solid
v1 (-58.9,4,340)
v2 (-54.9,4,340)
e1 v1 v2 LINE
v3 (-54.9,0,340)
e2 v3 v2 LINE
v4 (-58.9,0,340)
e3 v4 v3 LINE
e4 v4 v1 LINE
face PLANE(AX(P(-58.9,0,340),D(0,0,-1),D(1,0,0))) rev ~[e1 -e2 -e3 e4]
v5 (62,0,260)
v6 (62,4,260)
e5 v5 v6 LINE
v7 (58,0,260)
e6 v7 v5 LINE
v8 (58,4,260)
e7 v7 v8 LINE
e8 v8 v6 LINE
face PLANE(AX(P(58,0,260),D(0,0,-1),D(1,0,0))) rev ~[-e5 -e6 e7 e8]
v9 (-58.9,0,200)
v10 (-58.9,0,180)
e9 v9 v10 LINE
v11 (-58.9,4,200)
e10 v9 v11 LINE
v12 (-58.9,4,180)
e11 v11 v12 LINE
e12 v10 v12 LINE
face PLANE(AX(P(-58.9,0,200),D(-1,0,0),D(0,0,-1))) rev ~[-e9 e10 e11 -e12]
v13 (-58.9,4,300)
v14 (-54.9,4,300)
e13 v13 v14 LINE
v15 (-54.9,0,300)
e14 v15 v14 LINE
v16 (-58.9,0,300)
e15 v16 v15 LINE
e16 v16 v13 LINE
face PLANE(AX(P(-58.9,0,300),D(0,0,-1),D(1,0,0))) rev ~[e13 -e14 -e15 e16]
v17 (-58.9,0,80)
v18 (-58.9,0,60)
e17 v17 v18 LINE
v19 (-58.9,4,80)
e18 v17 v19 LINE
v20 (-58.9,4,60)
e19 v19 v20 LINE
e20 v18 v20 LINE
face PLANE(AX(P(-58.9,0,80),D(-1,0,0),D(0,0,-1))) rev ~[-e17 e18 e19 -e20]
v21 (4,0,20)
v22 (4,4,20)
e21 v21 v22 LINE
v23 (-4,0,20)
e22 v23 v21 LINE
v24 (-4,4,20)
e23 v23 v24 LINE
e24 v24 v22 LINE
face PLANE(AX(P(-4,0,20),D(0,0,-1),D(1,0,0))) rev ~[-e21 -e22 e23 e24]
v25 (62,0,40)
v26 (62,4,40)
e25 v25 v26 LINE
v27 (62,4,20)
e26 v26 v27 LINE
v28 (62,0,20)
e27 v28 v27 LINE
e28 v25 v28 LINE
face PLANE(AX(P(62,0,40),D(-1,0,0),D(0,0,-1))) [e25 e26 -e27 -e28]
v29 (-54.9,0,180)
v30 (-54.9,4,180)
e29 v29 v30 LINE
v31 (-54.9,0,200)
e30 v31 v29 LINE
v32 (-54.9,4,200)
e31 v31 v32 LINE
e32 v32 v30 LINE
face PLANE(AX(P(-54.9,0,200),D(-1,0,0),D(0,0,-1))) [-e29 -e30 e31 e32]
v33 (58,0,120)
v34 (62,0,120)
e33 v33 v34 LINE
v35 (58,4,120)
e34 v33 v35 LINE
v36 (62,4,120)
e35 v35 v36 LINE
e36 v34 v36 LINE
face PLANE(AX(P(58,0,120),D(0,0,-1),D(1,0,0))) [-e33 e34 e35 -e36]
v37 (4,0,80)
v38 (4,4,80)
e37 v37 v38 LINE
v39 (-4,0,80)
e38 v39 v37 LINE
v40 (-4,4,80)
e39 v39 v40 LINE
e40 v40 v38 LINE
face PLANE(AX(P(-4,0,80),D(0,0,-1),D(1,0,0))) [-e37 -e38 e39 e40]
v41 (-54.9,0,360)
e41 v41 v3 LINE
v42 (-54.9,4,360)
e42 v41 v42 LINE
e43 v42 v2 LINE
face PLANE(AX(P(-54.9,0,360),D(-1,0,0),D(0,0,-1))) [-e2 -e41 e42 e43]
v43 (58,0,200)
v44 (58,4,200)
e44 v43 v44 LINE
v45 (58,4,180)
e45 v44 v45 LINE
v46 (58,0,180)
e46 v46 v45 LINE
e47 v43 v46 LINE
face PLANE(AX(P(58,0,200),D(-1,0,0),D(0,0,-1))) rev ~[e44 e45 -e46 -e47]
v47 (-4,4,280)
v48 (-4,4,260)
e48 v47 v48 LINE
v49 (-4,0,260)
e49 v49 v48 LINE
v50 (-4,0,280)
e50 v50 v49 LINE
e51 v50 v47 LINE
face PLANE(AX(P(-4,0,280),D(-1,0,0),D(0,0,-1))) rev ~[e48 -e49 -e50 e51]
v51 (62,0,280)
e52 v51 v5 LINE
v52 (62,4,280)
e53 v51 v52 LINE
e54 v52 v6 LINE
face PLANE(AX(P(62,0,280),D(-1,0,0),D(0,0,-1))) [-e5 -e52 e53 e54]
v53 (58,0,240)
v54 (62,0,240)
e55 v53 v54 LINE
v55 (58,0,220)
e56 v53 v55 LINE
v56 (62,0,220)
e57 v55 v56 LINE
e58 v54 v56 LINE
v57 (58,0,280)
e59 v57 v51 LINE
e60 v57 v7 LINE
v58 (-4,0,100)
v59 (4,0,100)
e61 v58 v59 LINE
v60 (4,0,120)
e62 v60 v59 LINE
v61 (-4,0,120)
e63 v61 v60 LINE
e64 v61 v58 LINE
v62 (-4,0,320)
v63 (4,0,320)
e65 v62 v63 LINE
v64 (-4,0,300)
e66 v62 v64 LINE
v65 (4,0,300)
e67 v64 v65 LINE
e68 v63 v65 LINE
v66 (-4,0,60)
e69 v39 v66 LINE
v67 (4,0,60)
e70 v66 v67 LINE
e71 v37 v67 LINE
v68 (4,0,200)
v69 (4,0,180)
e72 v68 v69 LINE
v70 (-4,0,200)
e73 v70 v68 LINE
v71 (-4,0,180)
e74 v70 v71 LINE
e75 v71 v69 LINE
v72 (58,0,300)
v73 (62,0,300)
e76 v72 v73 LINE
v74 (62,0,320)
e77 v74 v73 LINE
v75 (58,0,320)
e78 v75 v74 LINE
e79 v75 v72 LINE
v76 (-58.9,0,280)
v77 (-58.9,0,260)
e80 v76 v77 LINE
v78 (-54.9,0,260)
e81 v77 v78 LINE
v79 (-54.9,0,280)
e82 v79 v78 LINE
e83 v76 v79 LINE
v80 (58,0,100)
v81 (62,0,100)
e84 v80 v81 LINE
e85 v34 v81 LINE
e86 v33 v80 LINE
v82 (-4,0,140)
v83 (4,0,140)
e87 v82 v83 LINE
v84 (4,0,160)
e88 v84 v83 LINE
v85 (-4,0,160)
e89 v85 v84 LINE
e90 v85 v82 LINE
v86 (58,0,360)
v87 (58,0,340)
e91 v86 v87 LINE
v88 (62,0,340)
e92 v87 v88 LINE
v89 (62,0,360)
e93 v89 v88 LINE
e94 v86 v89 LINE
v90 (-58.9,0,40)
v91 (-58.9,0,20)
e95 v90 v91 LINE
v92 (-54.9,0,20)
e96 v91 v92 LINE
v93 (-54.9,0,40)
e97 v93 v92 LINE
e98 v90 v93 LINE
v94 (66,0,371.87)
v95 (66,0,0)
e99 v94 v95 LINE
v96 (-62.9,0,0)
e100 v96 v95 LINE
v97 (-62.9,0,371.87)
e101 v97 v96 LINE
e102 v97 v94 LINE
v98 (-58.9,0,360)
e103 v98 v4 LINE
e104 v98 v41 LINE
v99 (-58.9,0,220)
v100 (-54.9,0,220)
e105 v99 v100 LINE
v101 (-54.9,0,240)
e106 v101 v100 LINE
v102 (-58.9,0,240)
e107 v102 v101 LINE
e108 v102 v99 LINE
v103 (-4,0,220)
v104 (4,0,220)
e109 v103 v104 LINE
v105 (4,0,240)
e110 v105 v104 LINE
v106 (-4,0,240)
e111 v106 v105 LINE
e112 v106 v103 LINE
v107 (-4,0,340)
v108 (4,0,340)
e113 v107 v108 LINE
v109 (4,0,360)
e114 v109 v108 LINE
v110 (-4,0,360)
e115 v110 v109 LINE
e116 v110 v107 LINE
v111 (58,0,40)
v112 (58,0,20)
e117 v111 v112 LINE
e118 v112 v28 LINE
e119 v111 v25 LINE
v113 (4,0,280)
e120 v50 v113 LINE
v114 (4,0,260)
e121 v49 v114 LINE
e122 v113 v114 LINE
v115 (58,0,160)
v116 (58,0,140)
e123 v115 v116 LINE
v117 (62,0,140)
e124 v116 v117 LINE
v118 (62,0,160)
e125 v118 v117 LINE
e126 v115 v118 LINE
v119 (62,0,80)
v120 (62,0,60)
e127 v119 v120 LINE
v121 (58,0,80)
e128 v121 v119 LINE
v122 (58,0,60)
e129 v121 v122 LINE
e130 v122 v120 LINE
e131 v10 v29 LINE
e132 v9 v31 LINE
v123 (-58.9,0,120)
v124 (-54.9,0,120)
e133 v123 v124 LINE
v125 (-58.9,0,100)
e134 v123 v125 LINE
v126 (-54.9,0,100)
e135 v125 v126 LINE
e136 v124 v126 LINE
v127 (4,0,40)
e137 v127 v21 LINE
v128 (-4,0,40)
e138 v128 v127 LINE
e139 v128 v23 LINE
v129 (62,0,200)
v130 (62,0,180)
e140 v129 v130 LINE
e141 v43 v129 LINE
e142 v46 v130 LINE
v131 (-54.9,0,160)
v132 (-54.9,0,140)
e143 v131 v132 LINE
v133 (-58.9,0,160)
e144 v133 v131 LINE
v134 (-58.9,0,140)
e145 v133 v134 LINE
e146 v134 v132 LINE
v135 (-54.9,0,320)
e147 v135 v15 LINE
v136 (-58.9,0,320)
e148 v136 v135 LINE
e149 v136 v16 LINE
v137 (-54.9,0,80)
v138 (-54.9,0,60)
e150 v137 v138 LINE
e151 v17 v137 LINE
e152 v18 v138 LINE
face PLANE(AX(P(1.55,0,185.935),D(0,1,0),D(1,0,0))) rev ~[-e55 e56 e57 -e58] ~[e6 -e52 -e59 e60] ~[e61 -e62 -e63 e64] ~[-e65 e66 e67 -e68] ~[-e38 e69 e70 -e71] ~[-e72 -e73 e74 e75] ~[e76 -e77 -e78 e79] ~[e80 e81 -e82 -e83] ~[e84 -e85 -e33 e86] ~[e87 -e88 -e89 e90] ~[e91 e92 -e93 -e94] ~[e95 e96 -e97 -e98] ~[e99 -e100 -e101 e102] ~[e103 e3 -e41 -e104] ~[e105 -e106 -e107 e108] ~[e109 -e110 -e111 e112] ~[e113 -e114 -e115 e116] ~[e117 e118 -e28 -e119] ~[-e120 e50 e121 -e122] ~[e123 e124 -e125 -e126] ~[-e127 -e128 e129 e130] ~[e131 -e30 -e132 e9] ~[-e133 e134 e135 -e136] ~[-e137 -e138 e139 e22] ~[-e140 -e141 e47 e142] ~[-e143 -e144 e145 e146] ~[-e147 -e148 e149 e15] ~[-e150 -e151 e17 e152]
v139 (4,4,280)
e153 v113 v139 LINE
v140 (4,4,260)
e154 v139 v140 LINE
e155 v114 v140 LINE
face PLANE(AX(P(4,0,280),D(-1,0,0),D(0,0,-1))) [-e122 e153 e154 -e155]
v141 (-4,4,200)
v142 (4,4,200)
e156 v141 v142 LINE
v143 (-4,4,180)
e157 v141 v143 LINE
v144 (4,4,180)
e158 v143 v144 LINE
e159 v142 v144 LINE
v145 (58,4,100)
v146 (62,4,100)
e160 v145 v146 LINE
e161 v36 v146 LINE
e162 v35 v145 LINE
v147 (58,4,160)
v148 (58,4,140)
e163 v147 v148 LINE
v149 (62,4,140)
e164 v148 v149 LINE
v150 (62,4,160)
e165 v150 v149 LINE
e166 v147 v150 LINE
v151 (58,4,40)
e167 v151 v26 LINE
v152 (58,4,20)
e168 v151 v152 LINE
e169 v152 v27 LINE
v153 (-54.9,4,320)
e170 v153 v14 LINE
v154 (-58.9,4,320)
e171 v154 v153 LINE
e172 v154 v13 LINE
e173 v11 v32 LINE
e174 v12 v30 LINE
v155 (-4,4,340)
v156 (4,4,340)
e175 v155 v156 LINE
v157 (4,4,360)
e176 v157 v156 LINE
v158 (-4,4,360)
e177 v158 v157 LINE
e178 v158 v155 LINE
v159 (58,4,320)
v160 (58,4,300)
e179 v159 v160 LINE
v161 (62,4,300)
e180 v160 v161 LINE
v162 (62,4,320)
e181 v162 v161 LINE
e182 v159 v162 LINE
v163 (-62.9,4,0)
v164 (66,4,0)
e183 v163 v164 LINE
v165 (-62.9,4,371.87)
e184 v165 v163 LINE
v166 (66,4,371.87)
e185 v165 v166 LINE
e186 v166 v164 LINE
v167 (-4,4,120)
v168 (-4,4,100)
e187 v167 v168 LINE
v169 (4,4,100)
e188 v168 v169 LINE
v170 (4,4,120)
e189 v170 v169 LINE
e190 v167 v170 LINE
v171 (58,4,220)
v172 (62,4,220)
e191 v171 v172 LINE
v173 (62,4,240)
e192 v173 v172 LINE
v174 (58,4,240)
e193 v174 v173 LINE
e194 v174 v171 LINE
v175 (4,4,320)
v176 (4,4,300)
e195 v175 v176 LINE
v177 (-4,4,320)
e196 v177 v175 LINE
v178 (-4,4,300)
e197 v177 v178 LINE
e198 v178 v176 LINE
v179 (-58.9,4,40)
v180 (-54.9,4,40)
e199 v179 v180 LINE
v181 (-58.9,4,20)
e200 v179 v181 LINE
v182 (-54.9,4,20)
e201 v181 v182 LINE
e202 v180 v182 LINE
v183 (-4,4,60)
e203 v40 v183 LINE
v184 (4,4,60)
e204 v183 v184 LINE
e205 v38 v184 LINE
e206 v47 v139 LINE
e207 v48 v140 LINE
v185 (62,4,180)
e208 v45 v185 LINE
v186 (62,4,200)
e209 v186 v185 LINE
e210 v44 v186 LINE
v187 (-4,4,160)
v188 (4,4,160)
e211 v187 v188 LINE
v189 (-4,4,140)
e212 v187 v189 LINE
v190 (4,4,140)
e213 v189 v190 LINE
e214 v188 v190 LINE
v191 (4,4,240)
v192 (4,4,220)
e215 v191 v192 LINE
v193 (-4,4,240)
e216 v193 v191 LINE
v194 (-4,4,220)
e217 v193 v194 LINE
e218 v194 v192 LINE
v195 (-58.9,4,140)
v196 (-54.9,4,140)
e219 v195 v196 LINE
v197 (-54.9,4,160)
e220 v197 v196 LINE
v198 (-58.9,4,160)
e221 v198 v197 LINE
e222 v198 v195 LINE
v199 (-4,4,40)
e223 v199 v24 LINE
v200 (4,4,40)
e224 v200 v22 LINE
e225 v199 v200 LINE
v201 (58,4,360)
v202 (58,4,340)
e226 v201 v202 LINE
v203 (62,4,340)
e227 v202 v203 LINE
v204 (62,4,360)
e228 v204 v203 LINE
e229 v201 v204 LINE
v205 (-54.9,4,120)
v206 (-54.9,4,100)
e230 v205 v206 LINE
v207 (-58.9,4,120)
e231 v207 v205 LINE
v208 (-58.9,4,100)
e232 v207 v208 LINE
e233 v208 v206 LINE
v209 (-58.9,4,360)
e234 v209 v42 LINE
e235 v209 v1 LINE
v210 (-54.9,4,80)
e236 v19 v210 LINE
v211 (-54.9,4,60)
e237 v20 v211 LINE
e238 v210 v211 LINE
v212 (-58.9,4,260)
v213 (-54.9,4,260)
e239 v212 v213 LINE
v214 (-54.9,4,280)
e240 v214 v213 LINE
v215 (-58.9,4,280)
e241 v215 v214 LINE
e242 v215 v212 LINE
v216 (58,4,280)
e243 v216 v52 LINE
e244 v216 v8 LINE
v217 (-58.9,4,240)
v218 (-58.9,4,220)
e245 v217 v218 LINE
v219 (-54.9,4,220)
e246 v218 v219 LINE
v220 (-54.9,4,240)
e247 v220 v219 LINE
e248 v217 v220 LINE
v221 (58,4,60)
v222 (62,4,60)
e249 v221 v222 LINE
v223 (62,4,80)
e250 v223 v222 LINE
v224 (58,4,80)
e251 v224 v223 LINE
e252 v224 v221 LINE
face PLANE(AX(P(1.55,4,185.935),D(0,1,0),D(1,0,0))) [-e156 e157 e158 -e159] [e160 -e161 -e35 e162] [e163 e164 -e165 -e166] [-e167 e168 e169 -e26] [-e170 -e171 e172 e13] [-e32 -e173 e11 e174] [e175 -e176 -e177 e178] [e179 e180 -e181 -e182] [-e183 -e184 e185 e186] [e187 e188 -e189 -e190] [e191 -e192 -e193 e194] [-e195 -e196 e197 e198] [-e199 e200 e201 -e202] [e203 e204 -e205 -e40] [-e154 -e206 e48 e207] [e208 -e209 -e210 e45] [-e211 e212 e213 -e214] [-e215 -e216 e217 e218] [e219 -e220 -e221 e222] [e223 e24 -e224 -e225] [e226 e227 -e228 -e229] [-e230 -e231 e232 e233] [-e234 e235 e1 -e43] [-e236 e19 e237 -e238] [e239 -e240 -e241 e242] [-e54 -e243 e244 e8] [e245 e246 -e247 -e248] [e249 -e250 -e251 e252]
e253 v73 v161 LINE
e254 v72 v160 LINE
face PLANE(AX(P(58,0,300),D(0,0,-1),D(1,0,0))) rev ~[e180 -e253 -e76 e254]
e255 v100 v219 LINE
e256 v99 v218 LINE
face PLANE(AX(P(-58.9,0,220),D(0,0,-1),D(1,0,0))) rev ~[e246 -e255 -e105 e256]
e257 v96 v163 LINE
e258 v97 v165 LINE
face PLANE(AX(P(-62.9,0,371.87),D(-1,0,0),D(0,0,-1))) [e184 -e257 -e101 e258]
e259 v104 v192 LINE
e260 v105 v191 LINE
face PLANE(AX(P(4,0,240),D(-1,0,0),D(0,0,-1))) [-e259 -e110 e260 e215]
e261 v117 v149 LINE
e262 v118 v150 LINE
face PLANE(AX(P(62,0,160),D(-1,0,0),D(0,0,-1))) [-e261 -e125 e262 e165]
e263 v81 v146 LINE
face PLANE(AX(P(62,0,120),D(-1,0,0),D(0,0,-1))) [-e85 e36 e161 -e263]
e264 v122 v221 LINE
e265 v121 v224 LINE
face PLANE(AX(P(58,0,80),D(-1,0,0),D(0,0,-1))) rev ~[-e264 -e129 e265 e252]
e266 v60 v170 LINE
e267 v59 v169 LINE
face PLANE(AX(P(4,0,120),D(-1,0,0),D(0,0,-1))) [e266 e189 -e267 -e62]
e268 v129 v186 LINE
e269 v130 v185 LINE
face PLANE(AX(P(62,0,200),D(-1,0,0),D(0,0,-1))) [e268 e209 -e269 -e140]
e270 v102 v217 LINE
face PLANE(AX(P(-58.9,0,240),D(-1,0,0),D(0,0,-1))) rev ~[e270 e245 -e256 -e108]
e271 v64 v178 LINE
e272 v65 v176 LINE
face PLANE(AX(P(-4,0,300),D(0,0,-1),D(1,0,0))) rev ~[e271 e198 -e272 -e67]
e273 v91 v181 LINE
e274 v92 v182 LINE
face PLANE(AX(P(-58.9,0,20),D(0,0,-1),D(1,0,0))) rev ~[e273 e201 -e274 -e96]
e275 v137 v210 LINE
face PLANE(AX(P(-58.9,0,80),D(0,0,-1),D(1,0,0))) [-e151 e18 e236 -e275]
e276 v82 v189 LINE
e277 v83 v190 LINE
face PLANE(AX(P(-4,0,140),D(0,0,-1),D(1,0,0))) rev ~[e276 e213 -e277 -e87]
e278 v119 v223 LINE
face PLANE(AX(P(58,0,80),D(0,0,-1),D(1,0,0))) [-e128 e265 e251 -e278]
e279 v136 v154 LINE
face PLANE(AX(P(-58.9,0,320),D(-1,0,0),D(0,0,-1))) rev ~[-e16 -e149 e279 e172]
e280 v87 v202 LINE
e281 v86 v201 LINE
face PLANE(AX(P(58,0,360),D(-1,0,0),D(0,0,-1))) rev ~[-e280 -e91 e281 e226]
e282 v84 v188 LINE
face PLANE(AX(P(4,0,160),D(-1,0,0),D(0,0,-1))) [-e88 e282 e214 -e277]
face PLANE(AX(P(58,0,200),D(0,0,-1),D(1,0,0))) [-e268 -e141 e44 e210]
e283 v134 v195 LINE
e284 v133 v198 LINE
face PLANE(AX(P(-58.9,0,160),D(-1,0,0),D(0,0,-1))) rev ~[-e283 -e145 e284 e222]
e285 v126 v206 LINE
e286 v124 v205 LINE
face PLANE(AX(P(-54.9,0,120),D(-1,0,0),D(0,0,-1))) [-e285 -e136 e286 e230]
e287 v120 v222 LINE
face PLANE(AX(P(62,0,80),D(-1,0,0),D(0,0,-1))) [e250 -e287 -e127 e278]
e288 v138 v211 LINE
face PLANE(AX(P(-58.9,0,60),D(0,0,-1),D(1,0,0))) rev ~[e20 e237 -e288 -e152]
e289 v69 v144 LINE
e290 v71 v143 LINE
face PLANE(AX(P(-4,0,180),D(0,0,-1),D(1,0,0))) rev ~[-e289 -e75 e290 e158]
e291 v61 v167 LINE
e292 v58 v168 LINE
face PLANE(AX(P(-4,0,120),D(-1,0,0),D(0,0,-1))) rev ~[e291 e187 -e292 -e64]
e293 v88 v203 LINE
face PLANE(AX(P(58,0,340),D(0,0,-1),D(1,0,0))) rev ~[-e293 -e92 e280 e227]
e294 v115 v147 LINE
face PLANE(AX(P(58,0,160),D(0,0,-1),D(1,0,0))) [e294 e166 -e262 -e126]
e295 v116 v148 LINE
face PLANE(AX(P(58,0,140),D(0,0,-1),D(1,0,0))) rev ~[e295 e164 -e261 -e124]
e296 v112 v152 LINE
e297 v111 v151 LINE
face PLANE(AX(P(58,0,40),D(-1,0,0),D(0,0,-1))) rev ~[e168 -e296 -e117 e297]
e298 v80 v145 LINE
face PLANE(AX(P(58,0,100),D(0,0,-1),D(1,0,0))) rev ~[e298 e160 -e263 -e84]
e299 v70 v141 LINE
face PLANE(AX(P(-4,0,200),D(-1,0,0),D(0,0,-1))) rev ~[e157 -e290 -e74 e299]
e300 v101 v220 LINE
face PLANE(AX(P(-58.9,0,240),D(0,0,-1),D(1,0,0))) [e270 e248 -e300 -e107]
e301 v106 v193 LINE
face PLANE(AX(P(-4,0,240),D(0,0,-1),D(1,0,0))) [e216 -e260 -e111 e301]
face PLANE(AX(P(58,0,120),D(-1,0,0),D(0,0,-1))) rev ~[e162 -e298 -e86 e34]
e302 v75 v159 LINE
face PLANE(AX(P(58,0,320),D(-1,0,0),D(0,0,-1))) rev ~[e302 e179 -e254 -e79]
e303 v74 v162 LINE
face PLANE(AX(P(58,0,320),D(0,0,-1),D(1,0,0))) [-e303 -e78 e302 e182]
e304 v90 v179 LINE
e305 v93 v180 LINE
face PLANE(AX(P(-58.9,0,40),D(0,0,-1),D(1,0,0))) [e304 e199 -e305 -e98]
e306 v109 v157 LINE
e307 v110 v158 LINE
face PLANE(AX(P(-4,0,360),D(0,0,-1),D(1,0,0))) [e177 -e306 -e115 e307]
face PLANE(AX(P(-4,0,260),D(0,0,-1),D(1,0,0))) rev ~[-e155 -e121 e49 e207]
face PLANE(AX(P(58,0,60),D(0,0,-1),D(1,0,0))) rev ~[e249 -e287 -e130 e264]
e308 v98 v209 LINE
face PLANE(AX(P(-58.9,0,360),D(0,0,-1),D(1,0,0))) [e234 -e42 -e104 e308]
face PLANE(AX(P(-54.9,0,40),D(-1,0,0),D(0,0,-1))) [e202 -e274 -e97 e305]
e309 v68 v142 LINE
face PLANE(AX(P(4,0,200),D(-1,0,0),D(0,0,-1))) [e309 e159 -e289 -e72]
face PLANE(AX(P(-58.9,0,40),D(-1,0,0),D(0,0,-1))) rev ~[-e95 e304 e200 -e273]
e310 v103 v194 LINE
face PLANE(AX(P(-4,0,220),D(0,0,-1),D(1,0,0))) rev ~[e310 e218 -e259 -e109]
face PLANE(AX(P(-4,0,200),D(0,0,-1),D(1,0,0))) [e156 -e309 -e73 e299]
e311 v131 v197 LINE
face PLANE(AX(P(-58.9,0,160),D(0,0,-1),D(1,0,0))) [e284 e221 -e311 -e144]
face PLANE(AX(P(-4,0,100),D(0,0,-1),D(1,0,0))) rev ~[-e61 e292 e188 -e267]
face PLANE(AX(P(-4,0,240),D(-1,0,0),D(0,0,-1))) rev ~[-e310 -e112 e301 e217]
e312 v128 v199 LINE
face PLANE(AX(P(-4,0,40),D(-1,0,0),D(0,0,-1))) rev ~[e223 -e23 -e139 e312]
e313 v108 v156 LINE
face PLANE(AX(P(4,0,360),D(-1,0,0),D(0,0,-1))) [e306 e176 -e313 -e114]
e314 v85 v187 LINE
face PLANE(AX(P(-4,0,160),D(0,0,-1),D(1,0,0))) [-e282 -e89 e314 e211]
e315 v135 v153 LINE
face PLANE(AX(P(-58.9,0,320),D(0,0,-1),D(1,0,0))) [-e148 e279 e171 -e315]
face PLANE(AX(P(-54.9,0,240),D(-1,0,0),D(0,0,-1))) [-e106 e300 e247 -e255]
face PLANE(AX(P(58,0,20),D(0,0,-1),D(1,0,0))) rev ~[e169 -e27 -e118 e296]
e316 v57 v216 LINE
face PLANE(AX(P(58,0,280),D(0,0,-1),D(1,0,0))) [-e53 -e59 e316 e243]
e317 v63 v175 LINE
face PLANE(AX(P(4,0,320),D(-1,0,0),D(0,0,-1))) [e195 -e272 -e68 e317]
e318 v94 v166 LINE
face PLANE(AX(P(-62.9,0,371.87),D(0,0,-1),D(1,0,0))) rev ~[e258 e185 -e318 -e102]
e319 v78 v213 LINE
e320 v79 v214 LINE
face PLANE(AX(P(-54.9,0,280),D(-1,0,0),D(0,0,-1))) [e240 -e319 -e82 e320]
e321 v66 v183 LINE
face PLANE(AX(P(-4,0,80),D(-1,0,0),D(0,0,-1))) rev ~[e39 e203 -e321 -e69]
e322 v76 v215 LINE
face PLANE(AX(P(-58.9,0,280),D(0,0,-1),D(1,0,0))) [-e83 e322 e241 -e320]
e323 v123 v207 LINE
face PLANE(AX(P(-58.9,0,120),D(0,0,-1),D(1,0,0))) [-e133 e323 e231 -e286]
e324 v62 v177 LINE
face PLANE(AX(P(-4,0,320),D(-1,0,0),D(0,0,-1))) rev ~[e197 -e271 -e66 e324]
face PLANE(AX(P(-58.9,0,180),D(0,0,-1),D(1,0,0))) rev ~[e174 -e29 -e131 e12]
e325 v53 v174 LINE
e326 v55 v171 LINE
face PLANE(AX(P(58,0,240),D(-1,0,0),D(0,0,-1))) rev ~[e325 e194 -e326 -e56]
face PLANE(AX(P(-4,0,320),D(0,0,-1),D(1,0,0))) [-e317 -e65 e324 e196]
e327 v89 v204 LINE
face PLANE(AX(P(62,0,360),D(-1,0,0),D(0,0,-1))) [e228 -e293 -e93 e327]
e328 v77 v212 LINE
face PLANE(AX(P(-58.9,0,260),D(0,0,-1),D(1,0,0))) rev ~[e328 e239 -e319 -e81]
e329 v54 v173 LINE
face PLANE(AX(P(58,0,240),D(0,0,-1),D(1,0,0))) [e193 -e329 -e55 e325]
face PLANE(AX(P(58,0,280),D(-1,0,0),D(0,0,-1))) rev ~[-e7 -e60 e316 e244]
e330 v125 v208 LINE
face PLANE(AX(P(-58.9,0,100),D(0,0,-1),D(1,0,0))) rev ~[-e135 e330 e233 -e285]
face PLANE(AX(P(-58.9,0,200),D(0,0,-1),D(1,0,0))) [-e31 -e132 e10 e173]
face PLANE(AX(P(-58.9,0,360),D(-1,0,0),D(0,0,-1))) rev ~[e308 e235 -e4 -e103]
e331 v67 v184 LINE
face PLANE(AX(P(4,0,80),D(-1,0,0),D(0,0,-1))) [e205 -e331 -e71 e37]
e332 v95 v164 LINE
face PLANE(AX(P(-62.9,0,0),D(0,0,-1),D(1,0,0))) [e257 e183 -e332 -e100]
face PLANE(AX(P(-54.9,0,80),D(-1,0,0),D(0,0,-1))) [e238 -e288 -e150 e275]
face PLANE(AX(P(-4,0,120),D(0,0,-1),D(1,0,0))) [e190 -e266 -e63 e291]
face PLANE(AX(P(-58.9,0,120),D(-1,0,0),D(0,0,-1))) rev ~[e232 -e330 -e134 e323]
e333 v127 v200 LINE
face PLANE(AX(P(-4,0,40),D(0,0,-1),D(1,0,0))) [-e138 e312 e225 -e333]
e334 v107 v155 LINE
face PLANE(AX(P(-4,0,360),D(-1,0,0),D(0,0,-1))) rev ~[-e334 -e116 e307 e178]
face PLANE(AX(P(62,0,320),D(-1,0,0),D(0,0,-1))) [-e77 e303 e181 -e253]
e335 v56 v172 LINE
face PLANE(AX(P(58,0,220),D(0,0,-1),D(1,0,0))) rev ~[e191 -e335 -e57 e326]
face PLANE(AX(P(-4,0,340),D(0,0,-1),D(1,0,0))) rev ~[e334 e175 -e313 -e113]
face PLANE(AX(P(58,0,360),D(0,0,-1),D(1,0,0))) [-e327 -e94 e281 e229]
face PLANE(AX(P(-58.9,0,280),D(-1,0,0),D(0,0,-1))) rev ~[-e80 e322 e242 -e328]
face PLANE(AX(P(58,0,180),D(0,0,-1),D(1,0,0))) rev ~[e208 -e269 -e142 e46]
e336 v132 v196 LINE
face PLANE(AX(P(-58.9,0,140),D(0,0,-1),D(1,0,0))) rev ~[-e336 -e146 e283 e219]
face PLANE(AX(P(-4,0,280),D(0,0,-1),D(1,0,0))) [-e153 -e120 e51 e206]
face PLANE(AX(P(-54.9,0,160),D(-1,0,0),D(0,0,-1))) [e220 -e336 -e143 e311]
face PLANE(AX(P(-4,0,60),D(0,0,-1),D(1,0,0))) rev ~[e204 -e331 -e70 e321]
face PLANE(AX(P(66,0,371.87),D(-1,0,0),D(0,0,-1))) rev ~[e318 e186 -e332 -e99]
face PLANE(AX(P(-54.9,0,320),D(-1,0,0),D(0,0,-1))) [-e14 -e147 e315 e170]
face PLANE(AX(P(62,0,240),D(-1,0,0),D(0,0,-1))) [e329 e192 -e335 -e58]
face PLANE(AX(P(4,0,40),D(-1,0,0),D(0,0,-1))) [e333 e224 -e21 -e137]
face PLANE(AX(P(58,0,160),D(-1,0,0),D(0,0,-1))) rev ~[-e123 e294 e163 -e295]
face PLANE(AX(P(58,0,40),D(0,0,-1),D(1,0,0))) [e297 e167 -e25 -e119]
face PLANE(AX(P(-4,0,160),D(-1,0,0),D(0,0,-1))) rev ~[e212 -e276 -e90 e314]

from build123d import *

# Parameters (mm, degrees)
SKETCH_1_W      = 128.9
SKETCH_1_H      = 371.87
SKETCH_1_W_2    = 8
SKETCH_1_H_2    = 20
SKETCH_1_W_3    = 4
EXTRUDE_1_DEPTH = 4


with BuildPart() as part:
    # Эскиз1 → Бобышка-Вытянуть1 (new body)
    with BuildSketch(Plane(origin=(0, 0, 0), x_dir=(1, 0, 0), z_dir=(0, 1, 0))):
        with Locations((1.55, -185.935)):
            Rectangle(SKETCH_1_W, SKETCH_1_H)
        with Locations((0, -70)):
            Rectangle(SKETCH_1_W_2, SKETCH_1_H_2, mode=Mode.SUBTRACT)
        with Locations((0, -30)):
            Rectangle(SKETCH_1_W_2, SKETCH_1_H_2, mode=Mode.SUBTRACT)
        with Locations((0, -110)):
            Rectangle(SKETCH_1_W_2, SKETCH_1_H_2, mode=Mode.SUBTRACT)
        with Locations((0, -150)):
            Rectangle(SKETCH_1_W_2, SKETCH_1_H_2, mode=Mode.SUBTRACT)
        with Locations((0, -190)):
            Rectangle(SKETCH_1_W_2, SKETCH_1_H_2, mode=Mode.SUBTRACT)
        with Locations((0, -230)):
            Rectangle(SKETCH_1_W_2, SKETCH_1_H_2, mode=Mode.SUBTRACT)
        with Locations((0, -270)):
            Rectangle(SKETCH_1_W_2, SKETCH_1_H_2, mode=Mode.SUBTRACT)
        with Locations((0, -310)):
            Rectangle(SKETCH_1_W_2, SKETCH_1_H_2, mode=Mode.SUBTRACT)
        with Locations((0, -350)):
            Rectangle(SKETCH_1_W_2, SKETCH_1_H_2, mode=Mode.SUBTRACT)
        with Locations((-56.9, -30)):
            Rectangle(SKETCH_1_W_3, SKETCH_1_H_2, mode=Mode.SUBTRACT)
        with Locations((-56.9, -70)):
            Rectangle(SKETCH_1_W_3, SKETCH_1_H_2, mode=Mode.SUBTRACT)
        with Locations((-56.9, -110)):
            Rectangle(SKETCH_1_W_3, SKETCH_1_H_2, mode=Mode.SUBTRACT)
        with Locations((-56.9, -150)):
            Rectangle(SKETCH_1_W_3, SKETCH_1_H_2, mode=Mode.SUBTRACT)
        with Locations((-56.9, -190)):
            Rectangle(SKETCH_1_W_3, SKETCH_1_H_2, mode=Mode.SUBTRACT)
        with Locations((-56.9, -230)):
            Rectangle(SKETCH_1_W_3, SKETCH_1_H_2, mode=Mode.SUBTRACT)
        with Locations((-56.9, -270)):
            Rectangle(SKETCH_1_W_3, SKETCH_1_H_2, mode=Mode.SUBTRACT)
        with Locations((-56.9, -310)):
            Rectangle(SKETCH_1_W_3, SKETCH_1_H_2, mode=Mode.SUBTRACT)
        with Locations((-56.9, -350)):
            Rectangle(SKETCH_1_W_3, SKETCH_1_H_2, mode=Mode.SUBTRACT)
        with Locations((60, -70)):
            Rectangle(SKETCH_1_W_3, SKETCH_1_H_2, mode=Mode.SUBTRACT)
        with Locations((60, -30)):
            Rectangle(SKETCH_1_W_3, SKETCH_1_H_2, mode=Mode.SUBTRACT)
        with Locations((60, -110)):
            Rectangle(SKETCH_1_W_3, SKETCH_1_H_2, mode=Mode.SUBTRACT)
        with Locations((60, -150)):
            Rectangle(SKETCH_1_W_3, SKETCH_1_H_2, mode=Mode.SUBTRACT)
        with Locations((60, -190)):
            Rectangle(SKETCH_1_W_3, SKETCH_1_H_2, mode=Mode.SUBTRACT)
        with Locations((60, -230)):
            Rectangle(SKETCH_1_W_3, SKETCH_1_H_2, mode=Mode.SUBTRACT)
        with Locations((60, -270)):
            Rectangle(SKETCH_1_W_3, SKETCH_1_H_2, mode=Mode.SUBTRACT)
        with Locations((60, -310)):
            Rectangle(SKETCH_1_W_3, SKETCH_1_H_2, mode=Mode.SUBTRACT)
        with Locations((60, -350)):
            Rectangle(SKETCH_1_W_3, SKETCH_1_H_2, mode=Mode.SUBTRACT)
    extrude(amount=EXTRUDE_1_DEPTH)


solid = part.part
